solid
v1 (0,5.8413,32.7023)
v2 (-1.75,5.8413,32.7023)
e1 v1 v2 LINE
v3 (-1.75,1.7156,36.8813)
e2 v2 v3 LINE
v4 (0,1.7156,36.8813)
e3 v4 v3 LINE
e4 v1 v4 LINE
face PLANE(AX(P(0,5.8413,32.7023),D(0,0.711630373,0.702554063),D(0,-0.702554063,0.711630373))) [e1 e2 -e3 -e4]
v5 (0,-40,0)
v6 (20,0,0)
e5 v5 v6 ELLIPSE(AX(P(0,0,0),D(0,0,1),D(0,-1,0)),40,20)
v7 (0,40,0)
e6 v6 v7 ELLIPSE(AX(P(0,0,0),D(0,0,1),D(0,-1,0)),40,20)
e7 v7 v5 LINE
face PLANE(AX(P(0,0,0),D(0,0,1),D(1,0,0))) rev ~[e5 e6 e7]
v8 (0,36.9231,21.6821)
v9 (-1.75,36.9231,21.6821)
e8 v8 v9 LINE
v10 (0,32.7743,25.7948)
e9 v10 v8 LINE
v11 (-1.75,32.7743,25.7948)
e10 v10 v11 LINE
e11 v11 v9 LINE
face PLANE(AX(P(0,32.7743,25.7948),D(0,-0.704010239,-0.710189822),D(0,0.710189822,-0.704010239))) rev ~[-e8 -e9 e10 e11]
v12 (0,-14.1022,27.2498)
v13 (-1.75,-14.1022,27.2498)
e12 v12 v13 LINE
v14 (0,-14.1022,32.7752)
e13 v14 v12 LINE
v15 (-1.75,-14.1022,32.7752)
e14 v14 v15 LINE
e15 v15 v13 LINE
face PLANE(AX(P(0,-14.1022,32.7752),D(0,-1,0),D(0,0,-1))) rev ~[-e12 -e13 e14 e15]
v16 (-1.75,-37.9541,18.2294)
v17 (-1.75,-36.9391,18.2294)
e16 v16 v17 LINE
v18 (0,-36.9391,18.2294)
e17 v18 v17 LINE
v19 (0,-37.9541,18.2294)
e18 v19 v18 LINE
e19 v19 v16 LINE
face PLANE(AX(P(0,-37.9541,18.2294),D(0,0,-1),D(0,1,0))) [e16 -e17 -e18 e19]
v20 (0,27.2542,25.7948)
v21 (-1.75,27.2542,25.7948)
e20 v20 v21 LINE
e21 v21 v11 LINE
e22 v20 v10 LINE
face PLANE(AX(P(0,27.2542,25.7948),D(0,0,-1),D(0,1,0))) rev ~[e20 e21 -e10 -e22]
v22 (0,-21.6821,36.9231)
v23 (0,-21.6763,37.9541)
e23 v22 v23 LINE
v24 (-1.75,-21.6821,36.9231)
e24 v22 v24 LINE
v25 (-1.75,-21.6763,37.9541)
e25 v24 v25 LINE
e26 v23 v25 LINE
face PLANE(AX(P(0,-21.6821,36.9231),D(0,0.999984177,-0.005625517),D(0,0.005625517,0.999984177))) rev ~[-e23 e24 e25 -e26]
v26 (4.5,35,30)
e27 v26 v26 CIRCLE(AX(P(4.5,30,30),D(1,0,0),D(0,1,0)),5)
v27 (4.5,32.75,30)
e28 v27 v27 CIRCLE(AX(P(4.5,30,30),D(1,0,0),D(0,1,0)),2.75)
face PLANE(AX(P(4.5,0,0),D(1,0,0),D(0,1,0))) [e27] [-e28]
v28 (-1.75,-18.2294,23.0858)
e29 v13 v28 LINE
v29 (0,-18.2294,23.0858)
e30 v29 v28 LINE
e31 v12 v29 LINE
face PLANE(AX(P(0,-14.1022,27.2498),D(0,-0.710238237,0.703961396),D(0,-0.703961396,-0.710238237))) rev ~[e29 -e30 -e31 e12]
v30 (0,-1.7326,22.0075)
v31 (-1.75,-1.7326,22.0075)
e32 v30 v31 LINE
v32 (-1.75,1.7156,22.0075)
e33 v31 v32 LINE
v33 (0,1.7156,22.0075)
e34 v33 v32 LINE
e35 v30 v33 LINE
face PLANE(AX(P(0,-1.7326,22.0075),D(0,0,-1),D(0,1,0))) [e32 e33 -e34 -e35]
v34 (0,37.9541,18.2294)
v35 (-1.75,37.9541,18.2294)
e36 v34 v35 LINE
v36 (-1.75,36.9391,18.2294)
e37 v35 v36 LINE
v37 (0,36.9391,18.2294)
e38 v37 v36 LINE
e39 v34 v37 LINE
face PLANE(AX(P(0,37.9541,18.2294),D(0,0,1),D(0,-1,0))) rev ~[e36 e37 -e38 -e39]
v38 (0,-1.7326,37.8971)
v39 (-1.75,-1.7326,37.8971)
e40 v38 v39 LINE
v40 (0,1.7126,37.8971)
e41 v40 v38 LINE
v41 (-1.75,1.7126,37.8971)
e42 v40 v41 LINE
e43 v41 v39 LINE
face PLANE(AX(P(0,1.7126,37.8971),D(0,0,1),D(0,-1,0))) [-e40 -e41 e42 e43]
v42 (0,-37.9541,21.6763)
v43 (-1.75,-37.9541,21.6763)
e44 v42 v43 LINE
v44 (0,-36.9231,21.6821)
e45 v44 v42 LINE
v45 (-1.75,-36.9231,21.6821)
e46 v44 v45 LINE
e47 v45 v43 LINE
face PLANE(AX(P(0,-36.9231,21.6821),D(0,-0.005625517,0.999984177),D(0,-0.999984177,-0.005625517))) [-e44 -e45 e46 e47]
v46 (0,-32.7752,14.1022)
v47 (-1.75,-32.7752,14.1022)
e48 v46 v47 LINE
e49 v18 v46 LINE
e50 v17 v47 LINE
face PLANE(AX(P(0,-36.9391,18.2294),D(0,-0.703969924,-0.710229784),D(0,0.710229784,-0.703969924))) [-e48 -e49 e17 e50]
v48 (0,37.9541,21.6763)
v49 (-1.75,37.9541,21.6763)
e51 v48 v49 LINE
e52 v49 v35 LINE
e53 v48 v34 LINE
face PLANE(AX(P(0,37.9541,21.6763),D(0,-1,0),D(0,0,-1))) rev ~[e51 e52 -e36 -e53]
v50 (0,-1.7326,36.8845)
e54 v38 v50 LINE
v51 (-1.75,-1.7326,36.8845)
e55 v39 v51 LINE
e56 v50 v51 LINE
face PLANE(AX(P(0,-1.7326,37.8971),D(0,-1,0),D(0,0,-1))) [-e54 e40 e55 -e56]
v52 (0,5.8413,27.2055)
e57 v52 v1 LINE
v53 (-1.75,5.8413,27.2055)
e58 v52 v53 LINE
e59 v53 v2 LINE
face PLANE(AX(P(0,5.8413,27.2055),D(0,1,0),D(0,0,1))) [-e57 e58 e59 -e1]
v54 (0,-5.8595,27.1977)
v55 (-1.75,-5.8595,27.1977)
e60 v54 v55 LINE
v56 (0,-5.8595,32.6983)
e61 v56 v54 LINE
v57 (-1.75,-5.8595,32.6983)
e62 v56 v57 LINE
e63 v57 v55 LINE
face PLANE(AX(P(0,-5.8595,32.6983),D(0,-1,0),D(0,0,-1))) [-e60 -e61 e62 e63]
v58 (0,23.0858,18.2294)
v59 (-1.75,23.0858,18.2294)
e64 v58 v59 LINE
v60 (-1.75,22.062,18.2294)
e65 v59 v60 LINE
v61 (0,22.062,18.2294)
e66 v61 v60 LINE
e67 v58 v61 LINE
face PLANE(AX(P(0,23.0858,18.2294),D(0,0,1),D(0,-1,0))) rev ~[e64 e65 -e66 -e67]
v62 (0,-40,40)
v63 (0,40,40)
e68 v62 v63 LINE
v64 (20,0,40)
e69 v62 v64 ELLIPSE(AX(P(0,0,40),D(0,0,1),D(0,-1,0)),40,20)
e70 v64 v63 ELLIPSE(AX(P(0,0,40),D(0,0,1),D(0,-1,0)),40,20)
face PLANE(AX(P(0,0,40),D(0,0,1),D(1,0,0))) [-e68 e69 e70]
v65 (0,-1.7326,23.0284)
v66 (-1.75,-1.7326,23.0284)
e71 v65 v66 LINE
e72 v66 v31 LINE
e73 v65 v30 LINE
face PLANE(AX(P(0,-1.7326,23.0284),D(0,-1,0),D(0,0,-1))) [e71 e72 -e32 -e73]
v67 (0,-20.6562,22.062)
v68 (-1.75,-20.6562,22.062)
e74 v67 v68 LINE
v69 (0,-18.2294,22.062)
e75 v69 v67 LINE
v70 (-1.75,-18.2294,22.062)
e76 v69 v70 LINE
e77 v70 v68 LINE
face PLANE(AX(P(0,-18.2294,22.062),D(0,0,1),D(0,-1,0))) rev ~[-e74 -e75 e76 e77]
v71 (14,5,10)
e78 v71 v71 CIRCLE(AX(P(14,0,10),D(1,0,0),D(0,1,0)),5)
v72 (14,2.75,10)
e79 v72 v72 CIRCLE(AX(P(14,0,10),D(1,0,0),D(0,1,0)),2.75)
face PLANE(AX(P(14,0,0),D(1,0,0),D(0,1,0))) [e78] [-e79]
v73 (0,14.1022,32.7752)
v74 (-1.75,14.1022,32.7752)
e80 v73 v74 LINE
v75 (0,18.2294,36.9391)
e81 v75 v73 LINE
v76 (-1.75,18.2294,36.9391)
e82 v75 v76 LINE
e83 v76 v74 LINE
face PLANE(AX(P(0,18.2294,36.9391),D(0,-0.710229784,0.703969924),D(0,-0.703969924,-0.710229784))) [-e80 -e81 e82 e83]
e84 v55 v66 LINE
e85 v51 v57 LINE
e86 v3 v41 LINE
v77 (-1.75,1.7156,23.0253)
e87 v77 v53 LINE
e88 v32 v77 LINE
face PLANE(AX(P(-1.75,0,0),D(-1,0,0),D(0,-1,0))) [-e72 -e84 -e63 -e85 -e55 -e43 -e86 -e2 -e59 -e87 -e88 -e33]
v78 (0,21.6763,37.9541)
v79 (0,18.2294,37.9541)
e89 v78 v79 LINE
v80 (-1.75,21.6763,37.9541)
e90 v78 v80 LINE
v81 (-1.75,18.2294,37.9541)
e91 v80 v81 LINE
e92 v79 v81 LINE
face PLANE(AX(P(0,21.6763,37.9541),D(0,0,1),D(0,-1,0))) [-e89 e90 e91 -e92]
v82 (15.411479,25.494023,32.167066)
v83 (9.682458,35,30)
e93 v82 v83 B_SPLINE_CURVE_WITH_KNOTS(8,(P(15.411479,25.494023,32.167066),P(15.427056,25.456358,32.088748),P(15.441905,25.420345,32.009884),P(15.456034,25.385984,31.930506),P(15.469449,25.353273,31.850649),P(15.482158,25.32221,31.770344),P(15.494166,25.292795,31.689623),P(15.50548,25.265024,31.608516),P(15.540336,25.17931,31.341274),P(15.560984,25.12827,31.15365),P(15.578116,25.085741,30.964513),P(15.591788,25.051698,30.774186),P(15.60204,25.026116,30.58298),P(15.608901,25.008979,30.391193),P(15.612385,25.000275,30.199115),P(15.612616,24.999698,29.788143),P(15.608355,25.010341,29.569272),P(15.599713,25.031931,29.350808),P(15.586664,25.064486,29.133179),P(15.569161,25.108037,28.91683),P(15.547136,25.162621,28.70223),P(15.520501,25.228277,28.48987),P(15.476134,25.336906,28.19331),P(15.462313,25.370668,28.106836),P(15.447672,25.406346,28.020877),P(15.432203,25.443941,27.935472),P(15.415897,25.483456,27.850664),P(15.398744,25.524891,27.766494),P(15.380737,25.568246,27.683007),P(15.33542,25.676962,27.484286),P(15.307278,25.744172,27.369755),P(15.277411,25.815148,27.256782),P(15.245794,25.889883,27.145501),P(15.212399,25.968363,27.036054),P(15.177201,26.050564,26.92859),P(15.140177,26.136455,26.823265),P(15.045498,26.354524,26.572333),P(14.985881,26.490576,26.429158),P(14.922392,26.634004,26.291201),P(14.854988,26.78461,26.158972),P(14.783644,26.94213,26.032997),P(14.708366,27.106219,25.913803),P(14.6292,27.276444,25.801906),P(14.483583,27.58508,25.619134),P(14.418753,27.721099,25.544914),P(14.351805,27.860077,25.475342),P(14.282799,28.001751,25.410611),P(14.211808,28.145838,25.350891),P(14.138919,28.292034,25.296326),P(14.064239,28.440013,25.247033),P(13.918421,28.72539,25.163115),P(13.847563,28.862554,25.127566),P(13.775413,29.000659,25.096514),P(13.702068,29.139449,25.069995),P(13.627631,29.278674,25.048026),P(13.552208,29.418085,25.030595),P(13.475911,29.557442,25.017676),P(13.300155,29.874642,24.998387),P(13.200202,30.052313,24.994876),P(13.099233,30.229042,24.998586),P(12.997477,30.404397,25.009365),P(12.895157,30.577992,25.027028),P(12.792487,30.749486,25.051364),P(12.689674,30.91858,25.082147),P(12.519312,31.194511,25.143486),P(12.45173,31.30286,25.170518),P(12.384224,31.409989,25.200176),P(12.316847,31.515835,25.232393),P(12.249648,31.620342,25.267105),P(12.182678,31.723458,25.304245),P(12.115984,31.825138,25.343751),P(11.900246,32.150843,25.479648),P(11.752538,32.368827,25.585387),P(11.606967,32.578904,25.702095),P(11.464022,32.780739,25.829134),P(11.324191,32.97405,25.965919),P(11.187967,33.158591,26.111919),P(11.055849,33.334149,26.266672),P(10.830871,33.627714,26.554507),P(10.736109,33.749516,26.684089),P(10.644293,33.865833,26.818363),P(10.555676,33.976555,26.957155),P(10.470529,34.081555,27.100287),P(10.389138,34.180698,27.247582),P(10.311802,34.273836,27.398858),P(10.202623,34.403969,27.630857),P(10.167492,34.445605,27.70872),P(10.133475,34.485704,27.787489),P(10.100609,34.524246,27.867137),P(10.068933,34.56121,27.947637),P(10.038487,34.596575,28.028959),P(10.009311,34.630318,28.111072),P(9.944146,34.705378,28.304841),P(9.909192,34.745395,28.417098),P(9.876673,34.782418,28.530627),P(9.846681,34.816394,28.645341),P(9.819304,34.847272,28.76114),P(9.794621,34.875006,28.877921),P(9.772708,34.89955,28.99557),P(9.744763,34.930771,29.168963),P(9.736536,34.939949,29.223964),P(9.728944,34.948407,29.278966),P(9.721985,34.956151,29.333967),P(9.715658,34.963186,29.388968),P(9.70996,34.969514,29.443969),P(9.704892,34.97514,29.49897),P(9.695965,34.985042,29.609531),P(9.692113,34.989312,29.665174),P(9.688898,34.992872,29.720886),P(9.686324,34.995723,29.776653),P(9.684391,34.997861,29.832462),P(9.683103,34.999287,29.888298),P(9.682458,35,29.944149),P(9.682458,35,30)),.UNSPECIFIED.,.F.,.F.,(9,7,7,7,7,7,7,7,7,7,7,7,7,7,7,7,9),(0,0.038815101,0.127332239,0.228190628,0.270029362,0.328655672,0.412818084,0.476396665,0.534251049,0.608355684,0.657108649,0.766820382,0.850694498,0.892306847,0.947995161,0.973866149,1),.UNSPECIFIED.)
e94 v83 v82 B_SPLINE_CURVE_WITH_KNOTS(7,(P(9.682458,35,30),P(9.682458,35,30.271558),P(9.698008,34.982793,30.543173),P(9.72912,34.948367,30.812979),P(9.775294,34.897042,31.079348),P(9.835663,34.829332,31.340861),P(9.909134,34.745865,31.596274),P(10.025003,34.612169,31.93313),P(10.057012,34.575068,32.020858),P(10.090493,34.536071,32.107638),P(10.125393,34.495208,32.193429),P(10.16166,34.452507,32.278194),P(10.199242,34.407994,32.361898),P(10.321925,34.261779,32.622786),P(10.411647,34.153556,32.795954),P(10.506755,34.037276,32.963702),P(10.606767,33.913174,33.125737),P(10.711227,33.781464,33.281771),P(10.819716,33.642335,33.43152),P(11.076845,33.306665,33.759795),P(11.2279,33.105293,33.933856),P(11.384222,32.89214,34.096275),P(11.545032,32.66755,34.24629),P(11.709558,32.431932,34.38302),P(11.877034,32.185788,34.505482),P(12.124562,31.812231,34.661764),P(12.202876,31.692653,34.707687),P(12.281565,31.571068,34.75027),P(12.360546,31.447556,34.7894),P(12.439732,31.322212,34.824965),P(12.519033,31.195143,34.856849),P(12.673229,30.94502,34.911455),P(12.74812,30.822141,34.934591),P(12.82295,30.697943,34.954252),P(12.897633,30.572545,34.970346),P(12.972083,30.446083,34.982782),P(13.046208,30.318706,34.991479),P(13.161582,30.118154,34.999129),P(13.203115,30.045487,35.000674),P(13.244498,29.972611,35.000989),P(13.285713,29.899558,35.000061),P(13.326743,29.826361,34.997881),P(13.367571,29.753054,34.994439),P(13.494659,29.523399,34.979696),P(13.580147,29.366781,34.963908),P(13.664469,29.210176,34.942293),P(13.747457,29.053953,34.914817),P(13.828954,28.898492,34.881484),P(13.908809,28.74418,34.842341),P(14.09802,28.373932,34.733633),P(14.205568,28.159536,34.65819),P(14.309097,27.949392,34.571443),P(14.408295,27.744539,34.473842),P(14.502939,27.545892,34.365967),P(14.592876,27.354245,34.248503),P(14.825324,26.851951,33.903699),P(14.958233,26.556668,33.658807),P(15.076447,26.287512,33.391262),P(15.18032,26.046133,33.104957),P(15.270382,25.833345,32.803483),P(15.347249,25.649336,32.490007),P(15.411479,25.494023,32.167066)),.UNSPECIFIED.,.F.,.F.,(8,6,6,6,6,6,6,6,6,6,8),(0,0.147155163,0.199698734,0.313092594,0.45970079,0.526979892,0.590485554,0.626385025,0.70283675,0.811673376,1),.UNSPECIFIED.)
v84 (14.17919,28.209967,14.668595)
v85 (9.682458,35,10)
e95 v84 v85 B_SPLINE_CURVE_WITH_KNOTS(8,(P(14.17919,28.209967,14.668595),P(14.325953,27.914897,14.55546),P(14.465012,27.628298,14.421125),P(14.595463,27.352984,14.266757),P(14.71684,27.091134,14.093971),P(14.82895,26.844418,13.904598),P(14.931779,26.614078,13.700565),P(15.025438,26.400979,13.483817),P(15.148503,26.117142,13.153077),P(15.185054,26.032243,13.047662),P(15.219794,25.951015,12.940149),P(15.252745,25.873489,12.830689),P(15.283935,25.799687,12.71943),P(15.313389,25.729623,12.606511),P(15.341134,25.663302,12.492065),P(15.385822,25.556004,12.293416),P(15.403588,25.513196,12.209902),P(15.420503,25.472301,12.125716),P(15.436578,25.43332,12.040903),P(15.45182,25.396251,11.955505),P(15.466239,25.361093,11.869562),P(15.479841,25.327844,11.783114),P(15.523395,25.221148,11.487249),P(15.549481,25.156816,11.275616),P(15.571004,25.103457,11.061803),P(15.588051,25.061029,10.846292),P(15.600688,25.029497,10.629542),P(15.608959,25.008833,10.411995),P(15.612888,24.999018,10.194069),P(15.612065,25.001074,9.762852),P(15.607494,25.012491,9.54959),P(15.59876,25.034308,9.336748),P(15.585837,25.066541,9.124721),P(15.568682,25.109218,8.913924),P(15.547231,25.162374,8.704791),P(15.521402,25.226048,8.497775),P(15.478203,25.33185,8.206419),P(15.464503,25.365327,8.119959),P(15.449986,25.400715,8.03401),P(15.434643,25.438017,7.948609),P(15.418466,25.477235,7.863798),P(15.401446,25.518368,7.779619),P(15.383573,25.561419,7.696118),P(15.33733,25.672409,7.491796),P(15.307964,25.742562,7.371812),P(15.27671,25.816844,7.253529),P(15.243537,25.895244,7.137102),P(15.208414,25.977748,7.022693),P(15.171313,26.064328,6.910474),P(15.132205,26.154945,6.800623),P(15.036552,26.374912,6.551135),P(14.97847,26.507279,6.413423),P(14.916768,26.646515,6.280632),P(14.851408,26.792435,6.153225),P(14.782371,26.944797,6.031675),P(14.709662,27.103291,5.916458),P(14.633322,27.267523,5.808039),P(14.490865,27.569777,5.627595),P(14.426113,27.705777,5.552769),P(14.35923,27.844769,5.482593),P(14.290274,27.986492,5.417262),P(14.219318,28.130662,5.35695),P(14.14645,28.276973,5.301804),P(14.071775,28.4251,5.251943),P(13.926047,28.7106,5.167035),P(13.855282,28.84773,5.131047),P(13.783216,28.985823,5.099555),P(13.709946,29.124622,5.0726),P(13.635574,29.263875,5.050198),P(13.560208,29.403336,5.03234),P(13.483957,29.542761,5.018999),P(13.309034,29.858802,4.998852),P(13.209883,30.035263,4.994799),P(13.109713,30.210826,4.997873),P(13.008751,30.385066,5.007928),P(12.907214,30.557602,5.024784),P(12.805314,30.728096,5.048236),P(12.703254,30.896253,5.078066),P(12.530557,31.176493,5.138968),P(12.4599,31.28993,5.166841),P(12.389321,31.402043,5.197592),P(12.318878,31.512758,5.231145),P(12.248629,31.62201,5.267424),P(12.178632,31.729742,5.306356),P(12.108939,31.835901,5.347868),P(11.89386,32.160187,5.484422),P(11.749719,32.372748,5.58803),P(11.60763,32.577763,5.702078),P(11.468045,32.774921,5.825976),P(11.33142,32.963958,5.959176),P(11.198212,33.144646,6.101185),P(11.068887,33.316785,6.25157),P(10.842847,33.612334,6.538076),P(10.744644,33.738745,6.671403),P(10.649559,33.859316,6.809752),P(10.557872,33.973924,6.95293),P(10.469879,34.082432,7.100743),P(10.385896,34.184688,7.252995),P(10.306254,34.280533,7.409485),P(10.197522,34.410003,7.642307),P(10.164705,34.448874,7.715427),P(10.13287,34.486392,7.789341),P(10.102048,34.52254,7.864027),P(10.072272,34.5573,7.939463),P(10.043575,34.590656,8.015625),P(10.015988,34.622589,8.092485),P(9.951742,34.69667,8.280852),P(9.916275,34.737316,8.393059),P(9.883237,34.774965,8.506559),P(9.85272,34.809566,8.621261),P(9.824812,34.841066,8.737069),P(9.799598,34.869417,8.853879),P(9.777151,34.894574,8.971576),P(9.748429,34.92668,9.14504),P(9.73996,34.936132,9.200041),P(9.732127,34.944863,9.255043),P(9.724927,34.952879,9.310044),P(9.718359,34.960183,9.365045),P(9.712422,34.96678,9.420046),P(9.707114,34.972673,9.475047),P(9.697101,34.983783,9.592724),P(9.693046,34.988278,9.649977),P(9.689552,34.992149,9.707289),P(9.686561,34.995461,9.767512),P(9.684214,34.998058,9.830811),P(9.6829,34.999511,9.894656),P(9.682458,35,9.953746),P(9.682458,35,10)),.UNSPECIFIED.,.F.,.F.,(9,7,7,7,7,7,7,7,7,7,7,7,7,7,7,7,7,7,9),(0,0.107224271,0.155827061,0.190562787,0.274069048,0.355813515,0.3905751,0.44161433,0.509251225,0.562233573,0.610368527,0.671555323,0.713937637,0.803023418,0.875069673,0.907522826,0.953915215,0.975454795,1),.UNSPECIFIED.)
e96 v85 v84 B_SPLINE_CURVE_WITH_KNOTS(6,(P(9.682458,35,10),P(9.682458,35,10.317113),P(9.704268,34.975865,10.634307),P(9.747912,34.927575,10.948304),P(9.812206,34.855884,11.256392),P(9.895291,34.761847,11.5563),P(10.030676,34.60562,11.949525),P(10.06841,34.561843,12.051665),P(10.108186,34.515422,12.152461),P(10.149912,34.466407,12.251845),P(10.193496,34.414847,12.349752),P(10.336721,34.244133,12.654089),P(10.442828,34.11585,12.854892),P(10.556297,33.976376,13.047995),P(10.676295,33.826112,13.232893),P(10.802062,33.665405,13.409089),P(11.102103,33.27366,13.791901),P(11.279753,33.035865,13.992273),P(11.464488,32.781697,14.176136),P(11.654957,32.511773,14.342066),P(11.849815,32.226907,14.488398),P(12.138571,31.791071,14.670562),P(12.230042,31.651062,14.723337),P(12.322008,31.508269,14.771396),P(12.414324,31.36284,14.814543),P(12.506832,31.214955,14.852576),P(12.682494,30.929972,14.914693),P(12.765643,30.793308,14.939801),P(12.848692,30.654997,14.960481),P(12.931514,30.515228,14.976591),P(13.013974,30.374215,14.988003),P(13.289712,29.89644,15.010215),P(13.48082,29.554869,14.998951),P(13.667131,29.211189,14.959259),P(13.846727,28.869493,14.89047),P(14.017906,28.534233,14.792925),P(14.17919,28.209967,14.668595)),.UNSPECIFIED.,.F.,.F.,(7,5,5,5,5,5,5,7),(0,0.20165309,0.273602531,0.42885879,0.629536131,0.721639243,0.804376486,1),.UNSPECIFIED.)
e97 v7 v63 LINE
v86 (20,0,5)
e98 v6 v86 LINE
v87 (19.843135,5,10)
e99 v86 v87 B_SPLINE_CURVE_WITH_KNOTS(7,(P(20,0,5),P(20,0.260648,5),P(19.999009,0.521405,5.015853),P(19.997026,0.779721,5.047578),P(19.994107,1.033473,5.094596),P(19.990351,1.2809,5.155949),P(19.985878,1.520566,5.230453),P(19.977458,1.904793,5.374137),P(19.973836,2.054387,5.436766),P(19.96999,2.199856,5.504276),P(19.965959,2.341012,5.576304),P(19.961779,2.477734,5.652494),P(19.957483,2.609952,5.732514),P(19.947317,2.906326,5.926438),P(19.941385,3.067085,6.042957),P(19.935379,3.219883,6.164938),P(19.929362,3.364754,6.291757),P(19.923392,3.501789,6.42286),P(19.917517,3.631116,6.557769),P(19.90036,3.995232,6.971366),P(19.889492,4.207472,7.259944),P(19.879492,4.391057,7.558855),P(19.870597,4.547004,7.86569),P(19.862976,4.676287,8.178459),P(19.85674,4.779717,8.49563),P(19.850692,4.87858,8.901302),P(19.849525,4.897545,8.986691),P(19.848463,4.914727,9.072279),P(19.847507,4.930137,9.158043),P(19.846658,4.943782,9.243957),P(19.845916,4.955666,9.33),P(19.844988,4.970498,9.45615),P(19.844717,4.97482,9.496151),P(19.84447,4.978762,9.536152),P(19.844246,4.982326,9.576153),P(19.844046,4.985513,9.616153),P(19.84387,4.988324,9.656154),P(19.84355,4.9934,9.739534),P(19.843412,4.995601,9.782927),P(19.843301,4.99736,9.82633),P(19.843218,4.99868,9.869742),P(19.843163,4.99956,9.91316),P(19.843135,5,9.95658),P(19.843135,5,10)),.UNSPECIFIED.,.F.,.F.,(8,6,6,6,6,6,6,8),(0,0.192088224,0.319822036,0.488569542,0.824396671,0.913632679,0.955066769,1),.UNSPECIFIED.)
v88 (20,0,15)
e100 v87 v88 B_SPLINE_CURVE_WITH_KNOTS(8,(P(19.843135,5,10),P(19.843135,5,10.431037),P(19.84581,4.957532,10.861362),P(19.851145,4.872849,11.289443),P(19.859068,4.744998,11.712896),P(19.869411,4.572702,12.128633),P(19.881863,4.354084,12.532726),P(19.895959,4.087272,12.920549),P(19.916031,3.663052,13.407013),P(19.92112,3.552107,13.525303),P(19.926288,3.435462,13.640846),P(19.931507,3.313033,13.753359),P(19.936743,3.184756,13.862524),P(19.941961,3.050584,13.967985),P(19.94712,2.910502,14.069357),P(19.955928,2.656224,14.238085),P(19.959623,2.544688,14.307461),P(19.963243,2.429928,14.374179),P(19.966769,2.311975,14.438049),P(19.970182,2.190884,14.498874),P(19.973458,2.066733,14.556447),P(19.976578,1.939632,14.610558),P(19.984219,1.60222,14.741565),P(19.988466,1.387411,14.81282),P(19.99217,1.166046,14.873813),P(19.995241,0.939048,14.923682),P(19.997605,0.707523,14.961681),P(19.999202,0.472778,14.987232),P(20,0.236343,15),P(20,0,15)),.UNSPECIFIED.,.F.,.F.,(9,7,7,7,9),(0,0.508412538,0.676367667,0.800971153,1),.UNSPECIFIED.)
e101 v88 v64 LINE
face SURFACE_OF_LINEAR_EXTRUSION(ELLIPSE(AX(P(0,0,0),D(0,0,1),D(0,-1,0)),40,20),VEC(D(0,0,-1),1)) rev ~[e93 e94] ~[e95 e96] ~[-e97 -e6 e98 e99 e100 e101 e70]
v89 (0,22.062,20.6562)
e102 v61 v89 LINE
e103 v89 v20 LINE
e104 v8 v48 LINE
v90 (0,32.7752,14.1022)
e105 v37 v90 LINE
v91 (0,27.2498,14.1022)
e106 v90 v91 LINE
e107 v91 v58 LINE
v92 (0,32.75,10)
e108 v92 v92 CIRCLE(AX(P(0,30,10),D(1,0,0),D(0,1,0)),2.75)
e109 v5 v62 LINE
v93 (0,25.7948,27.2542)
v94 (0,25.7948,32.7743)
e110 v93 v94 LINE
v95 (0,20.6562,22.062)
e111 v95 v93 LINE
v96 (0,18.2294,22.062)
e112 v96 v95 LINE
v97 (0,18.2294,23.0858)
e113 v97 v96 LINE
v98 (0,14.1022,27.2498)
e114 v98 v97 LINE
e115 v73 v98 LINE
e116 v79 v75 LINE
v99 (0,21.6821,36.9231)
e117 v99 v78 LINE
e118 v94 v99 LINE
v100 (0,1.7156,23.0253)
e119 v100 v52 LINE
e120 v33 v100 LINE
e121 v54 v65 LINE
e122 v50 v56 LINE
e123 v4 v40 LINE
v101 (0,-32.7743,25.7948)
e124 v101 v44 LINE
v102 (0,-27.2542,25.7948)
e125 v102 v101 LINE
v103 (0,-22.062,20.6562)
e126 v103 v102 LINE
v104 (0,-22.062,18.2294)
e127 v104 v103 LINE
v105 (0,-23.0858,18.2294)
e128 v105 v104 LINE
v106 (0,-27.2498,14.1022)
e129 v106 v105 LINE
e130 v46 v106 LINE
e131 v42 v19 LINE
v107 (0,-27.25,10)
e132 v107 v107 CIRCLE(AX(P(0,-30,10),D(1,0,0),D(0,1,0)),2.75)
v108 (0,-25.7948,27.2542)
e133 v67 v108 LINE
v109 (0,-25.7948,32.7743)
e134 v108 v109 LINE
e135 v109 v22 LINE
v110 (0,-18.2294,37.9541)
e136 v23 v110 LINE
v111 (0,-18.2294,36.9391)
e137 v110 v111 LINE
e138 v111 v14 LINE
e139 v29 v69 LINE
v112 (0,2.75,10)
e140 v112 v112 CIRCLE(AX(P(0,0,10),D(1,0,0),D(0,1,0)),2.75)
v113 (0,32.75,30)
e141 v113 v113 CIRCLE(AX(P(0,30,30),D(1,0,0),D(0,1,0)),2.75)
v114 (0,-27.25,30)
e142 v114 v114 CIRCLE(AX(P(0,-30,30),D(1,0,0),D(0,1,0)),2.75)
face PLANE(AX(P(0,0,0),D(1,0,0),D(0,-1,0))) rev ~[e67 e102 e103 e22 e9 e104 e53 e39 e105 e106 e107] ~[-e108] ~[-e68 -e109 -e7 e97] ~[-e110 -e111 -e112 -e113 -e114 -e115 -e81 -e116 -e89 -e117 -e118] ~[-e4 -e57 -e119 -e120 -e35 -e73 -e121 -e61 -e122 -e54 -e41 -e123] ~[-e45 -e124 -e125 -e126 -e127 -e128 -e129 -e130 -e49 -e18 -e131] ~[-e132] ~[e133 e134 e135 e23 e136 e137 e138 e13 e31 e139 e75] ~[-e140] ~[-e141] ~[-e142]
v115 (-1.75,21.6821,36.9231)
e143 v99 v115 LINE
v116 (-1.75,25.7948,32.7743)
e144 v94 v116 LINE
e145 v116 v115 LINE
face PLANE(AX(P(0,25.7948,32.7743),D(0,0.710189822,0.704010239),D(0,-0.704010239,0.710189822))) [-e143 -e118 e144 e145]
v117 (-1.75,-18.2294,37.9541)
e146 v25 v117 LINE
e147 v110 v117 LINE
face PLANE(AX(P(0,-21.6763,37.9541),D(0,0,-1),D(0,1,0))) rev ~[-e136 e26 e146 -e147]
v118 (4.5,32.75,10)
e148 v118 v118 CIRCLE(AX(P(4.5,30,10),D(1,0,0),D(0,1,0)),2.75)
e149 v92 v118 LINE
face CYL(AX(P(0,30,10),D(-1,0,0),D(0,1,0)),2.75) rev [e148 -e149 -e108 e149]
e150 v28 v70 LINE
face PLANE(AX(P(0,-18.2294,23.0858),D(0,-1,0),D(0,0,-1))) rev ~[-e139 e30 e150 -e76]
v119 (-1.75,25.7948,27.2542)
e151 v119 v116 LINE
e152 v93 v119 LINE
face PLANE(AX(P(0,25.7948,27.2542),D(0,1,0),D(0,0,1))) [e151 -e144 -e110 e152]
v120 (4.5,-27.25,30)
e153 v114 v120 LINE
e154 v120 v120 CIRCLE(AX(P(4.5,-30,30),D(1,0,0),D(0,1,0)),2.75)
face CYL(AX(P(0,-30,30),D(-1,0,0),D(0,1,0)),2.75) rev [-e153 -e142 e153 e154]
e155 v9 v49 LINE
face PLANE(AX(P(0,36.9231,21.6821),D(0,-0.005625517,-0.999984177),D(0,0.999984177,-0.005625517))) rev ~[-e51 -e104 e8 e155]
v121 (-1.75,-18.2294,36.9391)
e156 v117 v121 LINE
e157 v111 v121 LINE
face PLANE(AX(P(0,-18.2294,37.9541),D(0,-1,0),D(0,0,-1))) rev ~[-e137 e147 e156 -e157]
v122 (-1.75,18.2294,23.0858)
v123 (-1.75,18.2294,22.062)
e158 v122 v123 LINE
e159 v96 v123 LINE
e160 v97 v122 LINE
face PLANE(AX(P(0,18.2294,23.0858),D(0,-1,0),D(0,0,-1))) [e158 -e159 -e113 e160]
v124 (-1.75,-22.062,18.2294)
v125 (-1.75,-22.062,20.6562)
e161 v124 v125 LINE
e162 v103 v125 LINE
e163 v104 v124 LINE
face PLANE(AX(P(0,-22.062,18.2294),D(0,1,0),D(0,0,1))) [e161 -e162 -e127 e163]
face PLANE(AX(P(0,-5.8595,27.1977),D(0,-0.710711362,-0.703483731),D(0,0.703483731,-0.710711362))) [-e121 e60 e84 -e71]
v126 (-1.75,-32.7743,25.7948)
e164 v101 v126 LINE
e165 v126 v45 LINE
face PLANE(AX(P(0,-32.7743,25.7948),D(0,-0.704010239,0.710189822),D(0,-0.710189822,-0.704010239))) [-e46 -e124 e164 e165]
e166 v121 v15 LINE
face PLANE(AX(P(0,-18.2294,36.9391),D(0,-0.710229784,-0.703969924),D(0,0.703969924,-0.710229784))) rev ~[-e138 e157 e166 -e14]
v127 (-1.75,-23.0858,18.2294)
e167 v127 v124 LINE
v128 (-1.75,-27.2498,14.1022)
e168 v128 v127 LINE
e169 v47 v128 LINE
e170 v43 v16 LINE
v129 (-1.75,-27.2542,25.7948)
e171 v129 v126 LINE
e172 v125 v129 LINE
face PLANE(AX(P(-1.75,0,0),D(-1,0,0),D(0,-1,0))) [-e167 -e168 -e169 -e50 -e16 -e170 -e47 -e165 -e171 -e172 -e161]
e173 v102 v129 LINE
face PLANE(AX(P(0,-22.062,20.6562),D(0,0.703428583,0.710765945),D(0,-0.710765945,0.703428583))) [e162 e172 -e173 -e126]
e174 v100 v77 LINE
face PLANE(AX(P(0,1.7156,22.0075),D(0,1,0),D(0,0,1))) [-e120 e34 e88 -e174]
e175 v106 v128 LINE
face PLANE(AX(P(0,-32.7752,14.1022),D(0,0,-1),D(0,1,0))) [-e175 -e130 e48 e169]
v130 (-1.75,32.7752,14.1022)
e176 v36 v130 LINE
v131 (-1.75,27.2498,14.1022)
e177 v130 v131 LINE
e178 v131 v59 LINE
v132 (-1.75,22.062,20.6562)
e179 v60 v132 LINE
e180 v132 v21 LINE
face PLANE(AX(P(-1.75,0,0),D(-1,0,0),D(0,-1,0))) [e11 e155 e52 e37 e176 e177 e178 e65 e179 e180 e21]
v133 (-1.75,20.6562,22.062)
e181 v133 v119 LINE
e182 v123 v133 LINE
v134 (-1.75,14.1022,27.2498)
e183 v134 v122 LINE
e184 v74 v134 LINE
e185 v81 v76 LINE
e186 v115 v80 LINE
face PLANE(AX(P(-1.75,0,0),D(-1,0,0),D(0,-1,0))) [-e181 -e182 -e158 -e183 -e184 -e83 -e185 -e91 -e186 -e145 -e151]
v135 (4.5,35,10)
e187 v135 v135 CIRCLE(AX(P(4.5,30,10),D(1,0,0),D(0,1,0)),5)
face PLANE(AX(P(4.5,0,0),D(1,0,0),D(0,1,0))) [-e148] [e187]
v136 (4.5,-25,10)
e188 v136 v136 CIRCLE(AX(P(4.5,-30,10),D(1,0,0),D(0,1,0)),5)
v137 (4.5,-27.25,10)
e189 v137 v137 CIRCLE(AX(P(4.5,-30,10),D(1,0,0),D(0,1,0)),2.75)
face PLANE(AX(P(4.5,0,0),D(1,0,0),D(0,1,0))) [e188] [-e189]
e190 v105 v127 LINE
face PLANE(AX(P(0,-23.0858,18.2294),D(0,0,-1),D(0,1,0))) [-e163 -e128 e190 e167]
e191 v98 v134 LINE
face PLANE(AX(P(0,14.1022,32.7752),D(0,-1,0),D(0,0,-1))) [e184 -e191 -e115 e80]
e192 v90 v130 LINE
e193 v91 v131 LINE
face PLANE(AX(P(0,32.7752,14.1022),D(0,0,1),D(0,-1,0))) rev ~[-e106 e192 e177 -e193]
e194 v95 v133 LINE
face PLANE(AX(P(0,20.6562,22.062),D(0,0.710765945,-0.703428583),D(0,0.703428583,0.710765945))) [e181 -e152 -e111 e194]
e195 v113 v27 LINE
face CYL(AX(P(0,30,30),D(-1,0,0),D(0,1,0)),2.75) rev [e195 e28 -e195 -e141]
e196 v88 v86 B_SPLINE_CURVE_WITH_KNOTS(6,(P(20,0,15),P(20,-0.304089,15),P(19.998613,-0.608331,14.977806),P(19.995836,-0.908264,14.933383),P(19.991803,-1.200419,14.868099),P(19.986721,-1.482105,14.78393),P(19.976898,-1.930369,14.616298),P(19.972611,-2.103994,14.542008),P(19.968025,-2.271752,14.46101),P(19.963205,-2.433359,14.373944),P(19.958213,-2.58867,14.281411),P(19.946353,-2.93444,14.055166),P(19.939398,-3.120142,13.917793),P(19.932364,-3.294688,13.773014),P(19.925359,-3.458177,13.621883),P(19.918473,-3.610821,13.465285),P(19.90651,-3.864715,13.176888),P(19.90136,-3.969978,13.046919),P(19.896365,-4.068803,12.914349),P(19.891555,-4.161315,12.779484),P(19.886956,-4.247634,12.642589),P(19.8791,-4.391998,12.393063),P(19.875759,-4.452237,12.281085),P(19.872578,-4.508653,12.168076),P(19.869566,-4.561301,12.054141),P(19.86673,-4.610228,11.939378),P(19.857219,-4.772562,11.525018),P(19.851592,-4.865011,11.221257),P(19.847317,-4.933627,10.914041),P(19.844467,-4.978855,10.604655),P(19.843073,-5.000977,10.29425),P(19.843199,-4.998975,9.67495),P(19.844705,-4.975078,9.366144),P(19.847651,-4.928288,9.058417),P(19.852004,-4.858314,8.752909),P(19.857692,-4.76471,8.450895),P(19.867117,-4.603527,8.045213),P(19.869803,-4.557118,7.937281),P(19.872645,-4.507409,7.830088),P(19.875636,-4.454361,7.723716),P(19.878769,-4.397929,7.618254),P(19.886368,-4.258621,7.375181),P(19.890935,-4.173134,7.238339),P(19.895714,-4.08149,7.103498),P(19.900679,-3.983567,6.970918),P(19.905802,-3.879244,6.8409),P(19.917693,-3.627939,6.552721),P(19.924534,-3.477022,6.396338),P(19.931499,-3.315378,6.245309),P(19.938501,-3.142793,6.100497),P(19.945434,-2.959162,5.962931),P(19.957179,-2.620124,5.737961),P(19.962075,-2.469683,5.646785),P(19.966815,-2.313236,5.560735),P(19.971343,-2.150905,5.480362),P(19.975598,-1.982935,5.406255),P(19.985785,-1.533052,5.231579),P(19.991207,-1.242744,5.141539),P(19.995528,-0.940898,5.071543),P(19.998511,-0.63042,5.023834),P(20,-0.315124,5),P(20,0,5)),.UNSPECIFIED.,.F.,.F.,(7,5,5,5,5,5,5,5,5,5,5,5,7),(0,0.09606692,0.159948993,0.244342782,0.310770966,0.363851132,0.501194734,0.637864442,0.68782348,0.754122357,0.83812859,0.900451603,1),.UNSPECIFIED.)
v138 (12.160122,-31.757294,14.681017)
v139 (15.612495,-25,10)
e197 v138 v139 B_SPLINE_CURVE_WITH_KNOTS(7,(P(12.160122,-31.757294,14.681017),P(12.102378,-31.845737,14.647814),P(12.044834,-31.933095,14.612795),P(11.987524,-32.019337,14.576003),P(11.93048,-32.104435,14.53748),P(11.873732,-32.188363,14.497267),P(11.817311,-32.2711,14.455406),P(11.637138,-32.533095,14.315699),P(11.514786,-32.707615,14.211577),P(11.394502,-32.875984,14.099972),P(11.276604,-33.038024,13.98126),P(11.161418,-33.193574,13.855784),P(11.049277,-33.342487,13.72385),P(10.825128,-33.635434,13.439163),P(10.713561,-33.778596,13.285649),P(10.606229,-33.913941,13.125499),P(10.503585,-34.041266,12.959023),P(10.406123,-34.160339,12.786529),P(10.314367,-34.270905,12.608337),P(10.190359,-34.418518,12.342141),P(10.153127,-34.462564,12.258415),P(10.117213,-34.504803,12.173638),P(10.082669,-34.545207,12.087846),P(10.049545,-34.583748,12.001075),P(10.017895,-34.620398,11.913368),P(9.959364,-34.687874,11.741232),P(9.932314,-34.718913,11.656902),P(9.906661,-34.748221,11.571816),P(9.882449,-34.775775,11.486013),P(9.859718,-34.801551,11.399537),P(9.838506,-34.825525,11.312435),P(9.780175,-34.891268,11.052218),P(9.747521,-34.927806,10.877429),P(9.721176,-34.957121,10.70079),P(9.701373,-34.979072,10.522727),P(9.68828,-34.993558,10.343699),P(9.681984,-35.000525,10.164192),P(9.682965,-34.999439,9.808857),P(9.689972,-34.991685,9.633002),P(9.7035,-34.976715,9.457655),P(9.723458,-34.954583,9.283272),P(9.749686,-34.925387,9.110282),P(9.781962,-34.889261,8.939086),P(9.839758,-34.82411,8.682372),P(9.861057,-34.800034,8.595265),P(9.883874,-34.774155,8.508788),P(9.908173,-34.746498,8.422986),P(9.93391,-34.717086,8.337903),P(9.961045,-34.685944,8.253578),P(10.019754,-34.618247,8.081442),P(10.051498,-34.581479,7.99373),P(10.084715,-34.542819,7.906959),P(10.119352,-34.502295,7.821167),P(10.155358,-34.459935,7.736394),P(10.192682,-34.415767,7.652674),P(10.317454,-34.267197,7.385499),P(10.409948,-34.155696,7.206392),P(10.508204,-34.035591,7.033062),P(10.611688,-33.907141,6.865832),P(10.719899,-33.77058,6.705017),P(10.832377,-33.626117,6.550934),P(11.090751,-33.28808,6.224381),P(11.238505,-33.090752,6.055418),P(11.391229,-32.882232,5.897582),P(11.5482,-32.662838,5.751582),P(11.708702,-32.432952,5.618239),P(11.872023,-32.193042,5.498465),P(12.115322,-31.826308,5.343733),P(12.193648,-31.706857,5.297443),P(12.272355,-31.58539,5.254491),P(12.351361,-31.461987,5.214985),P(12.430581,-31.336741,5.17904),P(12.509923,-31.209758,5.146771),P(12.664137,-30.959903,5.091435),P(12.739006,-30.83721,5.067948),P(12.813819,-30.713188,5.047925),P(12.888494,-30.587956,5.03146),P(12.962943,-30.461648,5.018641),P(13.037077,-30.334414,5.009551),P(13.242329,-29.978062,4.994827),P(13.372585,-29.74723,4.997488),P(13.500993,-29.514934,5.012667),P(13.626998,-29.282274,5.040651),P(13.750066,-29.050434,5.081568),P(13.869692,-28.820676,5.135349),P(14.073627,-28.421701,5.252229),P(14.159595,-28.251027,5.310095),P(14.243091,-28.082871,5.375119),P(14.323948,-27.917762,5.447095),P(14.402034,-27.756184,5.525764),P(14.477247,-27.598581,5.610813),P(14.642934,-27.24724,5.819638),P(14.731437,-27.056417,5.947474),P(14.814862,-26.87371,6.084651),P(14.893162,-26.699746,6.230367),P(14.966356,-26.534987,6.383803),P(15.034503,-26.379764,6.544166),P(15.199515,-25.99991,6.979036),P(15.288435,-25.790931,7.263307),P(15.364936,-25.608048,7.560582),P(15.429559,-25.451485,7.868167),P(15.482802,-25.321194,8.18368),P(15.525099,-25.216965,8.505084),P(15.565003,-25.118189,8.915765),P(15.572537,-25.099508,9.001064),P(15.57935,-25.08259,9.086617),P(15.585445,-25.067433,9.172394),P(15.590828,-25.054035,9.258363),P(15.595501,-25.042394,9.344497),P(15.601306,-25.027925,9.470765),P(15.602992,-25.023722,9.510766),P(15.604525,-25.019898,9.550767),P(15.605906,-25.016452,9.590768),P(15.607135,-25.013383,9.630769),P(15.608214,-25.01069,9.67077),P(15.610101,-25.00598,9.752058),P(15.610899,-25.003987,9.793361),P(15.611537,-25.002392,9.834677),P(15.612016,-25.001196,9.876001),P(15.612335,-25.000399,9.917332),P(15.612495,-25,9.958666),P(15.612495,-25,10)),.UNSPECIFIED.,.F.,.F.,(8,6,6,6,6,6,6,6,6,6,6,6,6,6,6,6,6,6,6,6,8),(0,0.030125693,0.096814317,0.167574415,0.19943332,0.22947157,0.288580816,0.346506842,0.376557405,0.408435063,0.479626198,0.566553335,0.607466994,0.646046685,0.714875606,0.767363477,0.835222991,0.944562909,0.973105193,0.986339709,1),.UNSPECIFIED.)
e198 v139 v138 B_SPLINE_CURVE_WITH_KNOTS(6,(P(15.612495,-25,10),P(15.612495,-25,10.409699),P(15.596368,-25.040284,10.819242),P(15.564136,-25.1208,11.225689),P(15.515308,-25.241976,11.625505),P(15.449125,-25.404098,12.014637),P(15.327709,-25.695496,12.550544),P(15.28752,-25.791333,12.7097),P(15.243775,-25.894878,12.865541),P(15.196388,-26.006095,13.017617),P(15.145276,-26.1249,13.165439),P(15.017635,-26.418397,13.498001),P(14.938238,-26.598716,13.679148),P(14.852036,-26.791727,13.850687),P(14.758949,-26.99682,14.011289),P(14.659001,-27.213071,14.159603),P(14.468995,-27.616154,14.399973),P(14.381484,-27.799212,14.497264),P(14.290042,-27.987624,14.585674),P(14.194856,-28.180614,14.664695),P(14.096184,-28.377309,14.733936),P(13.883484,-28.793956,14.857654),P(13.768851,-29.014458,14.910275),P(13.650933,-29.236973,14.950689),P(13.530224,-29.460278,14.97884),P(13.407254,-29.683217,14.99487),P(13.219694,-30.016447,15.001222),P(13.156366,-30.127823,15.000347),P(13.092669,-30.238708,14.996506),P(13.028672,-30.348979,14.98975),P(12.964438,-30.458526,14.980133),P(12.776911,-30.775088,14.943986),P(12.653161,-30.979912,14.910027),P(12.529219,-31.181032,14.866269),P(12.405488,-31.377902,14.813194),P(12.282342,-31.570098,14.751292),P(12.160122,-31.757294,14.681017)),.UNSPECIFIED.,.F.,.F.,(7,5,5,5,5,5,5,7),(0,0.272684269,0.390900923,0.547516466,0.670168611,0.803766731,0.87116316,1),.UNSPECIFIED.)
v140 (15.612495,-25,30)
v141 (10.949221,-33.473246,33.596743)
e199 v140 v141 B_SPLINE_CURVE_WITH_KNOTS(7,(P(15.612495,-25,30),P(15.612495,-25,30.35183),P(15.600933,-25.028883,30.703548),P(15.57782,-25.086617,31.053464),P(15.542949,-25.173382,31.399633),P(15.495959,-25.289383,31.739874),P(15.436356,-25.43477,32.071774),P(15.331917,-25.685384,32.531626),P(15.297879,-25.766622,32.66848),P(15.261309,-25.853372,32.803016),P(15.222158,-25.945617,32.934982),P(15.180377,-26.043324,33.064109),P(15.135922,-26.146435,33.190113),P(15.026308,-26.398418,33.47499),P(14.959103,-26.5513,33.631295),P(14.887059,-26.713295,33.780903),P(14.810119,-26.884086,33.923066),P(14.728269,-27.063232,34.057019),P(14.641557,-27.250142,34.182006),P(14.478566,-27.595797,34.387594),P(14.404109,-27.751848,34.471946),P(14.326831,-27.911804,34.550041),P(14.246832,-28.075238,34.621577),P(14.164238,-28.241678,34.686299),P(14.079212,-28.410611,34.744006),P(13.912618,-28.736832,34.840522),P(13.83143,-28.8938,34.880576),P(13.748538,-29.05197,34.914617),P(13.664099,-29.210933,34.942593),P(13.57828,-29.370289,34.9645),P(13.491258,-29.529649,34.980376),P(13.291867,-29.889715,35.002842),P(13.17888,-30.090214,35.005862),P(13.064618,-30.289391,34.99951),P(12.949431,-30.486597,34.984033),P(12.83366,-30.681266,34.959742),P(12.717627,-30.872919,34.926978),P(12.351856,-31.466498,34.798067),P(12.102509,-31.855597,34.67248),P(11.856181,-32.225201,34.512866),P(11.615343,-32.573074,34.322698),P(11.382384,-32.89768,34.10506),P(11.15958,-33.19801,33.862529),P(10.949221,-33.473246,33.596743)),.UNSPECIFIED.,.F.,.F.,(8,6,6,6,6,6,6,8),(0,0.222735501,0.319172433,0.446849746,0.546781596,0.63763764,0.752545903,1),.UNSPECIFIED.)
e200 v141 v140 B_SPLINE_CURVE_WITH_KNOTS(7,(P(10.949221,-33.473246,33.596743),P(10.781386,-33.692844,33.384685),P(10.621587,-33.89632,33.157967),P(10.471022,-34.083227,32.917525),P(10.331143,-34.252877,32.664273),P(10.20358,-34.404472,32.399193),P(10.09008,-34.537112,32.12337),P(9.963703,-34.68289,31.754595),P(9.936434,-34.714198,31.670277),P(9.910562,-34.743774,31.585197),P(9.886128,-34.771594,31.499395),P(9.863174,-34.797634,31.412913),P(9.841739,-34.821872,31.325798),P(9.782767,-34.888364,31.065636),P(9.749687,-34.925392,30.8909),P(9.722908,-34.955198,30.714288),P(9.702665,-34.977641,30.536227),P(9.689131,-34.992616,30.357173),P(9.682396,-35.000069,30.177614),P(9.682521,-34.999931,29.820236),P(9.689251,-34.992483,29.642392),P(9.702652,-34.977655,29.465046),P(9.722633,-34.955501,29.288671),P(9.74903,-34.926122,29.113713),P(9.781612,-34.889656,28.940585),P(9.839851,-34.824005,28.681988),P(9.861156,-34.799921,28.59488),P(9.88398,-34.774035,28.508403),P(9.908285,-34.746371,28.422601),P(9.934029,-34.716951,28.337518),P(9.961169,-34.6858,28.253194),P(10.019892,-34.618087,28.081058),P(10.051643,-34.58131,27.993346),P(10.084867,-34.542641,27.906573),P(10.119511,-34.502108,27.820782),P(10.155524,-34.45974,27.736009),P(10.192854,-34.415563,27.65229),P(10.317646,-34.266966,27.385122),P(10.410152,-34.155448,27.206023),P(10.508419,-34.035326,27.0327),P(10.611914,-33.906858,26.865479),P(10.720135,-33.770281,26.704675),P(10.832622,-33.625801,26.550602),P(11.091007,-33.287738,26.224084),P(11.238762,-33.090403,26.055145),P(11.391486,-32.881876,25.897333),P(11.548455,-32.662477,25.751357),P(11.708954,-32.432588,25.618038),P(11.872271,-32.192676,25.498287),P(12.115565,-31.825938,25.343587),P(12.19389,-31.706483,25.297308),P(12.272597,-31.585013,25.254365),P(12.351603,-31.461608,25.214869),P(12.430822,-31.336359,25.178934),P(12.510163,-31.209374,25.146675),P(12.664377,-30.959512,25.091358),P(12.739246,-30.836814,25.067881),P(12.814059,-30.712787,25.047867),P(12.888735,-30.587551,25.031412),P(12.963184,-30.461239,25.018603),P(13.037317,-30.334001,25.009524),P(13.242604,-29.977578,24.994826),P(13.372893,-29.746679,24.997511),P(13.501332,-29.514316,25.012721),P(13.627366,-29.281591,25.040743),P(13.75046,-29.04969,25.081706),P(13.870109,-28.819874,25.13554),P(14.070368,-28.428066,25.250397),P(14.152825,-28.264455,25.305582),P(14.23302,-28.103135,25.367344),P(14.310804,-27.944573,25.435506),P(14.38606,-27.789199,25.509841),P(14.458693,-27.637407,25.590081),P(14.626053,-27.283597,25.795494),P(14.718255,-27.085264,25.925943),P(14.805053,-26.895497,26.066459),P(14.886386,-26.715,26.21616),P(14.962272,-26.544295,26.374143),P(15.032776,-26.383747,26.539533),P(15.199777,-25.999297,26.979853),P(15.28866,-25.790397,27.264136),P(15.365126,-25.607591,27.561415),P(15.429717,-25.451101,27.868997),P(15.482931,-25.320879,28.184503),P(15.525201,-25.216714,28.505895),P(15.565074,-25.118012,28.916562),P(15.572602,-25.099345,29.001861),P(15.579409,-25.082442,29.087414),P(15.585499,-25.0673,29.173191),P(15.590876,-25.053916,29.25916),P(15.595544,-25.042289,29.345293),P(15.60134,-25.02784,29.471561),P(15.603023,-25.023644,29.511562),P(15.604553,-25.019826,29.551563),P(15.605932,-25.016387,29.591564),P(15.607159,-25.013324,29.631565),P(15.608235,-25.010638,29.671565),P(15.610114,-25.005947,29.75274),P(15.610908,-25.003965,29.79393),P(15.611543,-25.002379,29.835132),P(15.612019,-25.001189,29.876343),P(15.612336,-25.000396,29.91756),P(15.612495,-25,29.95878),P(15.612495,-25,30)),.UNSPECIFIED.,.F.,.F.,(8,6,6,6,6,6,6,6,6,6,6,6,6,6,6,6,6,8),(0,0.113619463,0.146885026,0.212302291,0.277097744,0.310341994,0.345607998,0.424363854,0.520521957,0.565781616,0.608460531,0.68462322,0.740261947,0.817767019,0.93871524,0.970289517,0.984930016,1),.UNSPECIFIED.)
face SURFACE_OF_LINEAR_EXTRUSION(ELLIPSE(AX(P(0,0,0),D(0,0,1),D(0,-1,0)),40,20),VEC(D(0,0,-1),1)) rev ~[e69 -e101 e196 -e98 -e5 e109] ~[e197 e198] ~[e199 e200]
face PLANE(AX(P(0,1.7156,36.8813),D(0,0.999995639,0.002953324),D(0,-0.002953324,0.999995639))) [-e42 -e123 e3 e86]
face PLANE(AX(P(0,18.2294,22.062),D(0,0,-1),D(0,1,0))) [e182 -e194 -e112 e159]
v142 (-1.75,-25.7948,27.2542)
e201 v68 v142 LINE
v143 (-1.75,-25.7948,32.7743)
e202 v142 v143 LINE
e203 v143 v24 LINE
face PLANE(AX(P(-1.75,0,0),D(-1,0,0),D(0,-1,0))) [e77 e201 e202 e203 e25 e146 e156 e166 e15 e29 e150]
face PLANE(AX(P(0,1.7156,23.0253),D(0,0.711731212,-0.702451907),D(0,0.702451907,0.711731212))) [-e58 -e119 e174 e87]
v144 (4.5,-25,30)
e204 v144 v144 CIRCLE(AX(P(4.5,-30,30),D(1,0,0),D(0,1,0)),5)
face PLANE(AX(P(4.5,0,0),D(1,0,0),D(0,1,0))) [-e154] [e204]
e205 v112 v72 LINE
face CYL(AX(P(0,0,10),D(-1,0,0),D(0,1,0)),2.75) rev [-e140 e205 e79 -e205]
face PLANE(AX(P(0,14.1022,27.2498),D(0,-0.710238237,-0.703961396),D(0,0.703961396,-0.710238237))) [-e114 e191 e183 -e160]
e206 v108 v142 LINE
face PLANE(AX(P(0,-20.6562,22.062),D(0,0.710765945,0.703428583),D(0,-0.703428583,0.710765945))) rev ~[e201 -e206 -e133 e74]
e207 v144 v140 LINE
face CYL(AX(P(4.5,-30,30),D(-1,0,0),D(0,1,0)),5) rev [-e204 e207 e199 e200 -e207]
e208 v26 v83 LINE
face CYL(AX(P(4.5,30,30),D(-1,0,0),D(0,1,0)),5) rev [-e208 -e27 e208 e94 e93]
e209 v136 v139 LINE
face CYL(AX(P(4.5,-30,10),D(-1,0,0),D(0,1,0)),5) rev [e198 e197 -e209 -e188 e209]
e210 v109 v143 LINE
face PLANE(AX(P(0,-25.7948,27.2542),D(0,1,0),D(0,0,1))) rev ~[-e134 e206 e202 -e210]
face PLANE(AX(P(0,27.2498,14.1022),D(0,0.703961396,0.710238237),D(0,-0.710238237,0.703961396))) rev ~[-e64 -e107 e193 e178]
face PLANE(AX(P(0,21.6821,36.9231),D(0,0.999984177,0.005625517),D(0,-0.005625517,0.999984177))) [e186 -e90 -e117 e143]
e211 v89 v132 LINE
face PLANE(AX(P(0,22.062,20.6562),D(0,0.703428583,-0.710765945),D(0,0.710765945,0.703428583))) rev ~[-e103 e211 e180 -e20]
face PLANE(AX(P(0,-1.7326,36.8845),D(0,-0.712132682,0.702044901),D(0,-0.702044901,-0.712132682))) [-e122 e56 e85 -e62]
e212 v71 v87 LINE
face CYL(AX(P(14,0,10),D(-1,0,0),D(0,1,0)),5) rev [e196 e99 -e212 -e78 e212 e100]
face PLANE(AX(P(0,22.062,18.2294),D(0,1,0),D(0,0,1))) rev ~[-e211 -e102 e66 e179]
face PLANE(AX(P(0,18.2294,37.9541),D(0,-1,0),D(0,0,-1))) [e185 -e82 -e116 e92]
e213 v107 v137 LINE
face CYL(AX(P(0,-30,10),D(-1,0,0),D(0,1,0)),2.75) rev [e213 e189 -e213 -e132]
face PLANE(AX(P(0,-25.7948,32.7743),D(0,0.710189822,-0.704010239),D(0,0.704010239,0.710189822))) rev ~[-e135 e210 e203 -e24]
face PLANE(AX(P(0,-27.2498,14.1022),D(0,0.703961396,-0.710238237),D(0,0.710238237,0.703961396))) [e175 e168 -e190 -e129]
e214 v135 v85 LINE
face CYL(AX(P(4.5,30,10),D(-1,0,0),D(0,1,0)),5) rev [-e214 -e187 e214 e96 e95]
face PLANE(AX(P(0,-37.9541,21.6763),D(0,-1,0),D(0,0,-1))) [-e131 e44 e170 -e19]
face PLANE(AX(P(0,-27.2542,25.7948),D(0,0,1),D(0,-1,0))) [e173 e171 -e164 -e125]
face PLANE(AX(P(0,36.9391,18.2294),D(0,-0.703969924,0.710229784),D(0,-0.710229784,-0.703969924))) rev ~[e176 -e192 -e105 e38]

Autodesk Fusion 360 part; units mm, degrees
sketch "MainProfile" plane through (0, 0, 0) normal (0, 0, 1) x (1, 0, 0)
  ellipse E0 centre (0, 0) end of major axis (0, -40) minor radius 20
  line L0 (0, 40) -> (0, -40)
  line L1 (-20, 0) -> (20, 0)
  dimension "d1" = 80
  dimension "d2" = 40
extrude "Extrude1" add sketch "MainProfile" along normal blind 40 contours E0 L0 L1 | E0 L0 L1 picked at (4.4716, -23.2225) picked at (4.1785, 23.7227)
sketch "Holes" plane through (0, 0, 0) normal (1, 0, 0) x (0, 1, 0)
  circle A0 centre (0, 10) radius 5
  circle A1 centre (0, 10) radius 2.75
  circle A2 centre (-30, 10) radius 2.75
  circle A3 centre (-30, 10) radius 5
  circle A4 centre (30, 10) radius 2.75
  circle A5 centre (30, 10) radius 5
  circle A6 centre (-30, 30) radius 2.75
  circle A7 centre (-30, 30) radius 5
  circle A8 centre (30, 30) radius 2.75
  circle A9 centre (30, 30) radius 5
  dimension "d5" = 10
  dimension "d6" = 5.5
  dimension "d9" = 30
  dimension "d10" = 20
  dimension "d11" = 10
extrude "Extrude2" cut sketch "Holes" along normal blind 50 contours A1 | A2 | A4 | A6 | A8
extrude "Extrude3" cut sketch "Holes" along normal blind 30 from surface at 14 contours A0
extrude "Extrude4" cut sketch "Holes" along normal blind 30 from surface at 4.5 contours A3 | A5 | A7 | A9
sketch "Back Features" plane through (0, 0, 0) normal (-1, 0, 0) x (0, -1, 0)
  circle A0 centre (0, 10) radius 2.75
  circle A1 centre (30, 30) radius 2.75
  circle A2 centre (-30, 10) radius 2.75
  circle A3 centre (30, 10) radius 2.75
  circle A4 centre (-30, 30) radius 2.75
  line L0 (-40, 0) -> (40, 0)
  line L1 (40, 0) -> (40, 40)
  line L2 (40, 40) -> (-40, 40)
  line L3 (-40, 40) -> (-40, 0)
  line L4 (0, 40) -> (0, 0) construction
  line L5 (37.9541, 21.6763) -> (37.9541, 18.2294)
  line L6 (37.9541, 18.2294) -> (36.9391, 18.2294)
  line L7 (36.9391, 18.2294) -> (32.7752, 14.1022)
  line L8 (32.7752, 14.1022) -> (27.2498, 14.1022)
  line L9 (27.2498, 14.1022) -> (23.0858, 18.2294)
  line L10 (23.0858, 18.2294) -> (22.062, 18.2294)
  line L11 (22.062, 18.2294) -> (22.062, 20.6562)
  line L12 (22.062, 20.6562) -> (27.2542, 25.7948)
  line L13 (27.2542, 25.7948) -> (32.7743, 25.7948)
  line L14 (32.7743, 25.7948) -> (36.9231, 21.6821)
  line L15 (36.9231, 21.6821) -> (37.9541, 21.6763)
  line L16 (40, 40) -> (0, 0) construction
  line L17 (20.6562, 22.062) -> (25.7948, 27.2542)
  line L18 (25.7948, 27.2542) -> (25.7948, 32.7743)
  line L19 (25.7948, 32.7743) -> (21.6821, 36.9231)
  line L20 (21.6821, 36.9231) -> (21.6763, 37.9541)
  line L21 (21.6763, 37.9541) -> (18.2294, 37.9541)
  line L22 (18.2294, 37.9541) -> (18.2294, 36.9391)
  line L23 (18.2294, 36.9391) -> (14.1022, 32.7752)
  line L24 (14.1022, 32.7752) -> (14.1022, 27.2498)
  line L25 (14.1022, 27.2498) -> (18.2294, 23.0858)
  line L26 (18.2294, 23.0858) -> (18.2294, 22.062)
  line L27 (18.2294, 22.062) -> (20.6562, 22.062)
  line L28 (-36.9391, 18.2294) -> (-32.7752, 14.1022)
  line L29 (-32.7752, 14.1022) -> (-27.2498, 14.1022)
  line L30 (-14.1022, 27.2498) -> (-18.2294, 23.0858)
  line L31 (-18.2294, 37.9541) -> (-18.2294, 36.9391)
  line L32 (-27.2498, 14.1022) -> (-23.0858, 18.2294)
  line L33 (-18.2294, 36.9391) -> (-14.1022, 32.7752)
  line L34 (-36.9231, 21.6821) -> (-37.9541, 21.6763)
  line L35 (-25.7948, 27.2542) -> (-25.7948, 32.7743)
  line L36 (-18.2294, 23.0858) -> (-18.2294, 22.062)
  line L37 (-14.1022, 32.7752) -> (-14.1022, 27.2498)
  line L38 (-20.6562, 22.062) -> (-25.7948, 27.2542)
  line L39 (-22.062, 18.2294) -> (-22.062, 20.6562)
  line L40 (-37.9541, 18.2294) -> (-36.9391, 18.2294)
  line L41 (-37.9541, 21.6763) -> (-37.9541, 18.2294)
  line L42 (-23.0858, 18.2294) -> (-22.062, 18.2294)
  line L43 (-27.2542, 25.7948) -> (-32.7743, 25.7948)
  line L44 (-25.7948, 32.7743) -> (-21.6821, 36.9231)
  line L45 (-21.6821, 36.9231) -> (-21.6763, 37.9541)
  line L46 (-22.062, 20.6562) -> (-27.2542, 25.7948)
  line L47 (-18.2294, 22.062) -> (-20.6562, 22.062)
  line L48 (-21.6763, 37.9541) -> (-18.2294, 37.9541)
  line L49 (-32.7743, 25.7948) -> (-36.9231, 21.6821)
  line L50 (-1.7126, 37.8971) -> (1.7326, 37.8971)
  line L51 (1.7326, 37.8971) -> (1.7326, 36.8845)
  line L52 (1.7326, 36.8845) -> (5.8595, 32.6983)
  line L53 (5.8595, 32.6983) -> (5.8595, 27.1977)
  line L54 (5.8595, 27.1977) -> (1.7326, 23.0284)
  line L55 (1.7326, 23.0284) -> (1.7326, 22.0075)
  line L56 (1.7326, 22.0075) -> (-1.7156, 22.0075)
  line L57 (-1.7156, 22.0075) -> (-1.7156, 23.0253)
  line L58 (-1.7156, 23.0253) -> (-5.8413, 27.2055)
  line L59 (-5.8413, 27.2055) -> (-5.8413, 32.7023)
  line L60 (-5.8413, 32.7023) -> (-1.7156, 36.8813)
  line L61 (-1.7156, 36.8813) -> (-1.7126, 37.8971)
extrude "Extrude5" add sketch "Back Features" along normal blind 1.75 contours L5 L6 L7 L8 L9 L10 L11 L12 L13 L14 L15 | L17 L18 L19 L20 L21 L22 L23 L24 L25 L26 L27 | L28 L29 L32 L34 L39 L40 L41 L42 L43 L46 L49 | L30 L31 L33 L35 L36 L37 L38 L44 L45 L47 L48 | L50 L51 L52 L53 L54 L55 L56 L57 L58 L59 L60 L61
